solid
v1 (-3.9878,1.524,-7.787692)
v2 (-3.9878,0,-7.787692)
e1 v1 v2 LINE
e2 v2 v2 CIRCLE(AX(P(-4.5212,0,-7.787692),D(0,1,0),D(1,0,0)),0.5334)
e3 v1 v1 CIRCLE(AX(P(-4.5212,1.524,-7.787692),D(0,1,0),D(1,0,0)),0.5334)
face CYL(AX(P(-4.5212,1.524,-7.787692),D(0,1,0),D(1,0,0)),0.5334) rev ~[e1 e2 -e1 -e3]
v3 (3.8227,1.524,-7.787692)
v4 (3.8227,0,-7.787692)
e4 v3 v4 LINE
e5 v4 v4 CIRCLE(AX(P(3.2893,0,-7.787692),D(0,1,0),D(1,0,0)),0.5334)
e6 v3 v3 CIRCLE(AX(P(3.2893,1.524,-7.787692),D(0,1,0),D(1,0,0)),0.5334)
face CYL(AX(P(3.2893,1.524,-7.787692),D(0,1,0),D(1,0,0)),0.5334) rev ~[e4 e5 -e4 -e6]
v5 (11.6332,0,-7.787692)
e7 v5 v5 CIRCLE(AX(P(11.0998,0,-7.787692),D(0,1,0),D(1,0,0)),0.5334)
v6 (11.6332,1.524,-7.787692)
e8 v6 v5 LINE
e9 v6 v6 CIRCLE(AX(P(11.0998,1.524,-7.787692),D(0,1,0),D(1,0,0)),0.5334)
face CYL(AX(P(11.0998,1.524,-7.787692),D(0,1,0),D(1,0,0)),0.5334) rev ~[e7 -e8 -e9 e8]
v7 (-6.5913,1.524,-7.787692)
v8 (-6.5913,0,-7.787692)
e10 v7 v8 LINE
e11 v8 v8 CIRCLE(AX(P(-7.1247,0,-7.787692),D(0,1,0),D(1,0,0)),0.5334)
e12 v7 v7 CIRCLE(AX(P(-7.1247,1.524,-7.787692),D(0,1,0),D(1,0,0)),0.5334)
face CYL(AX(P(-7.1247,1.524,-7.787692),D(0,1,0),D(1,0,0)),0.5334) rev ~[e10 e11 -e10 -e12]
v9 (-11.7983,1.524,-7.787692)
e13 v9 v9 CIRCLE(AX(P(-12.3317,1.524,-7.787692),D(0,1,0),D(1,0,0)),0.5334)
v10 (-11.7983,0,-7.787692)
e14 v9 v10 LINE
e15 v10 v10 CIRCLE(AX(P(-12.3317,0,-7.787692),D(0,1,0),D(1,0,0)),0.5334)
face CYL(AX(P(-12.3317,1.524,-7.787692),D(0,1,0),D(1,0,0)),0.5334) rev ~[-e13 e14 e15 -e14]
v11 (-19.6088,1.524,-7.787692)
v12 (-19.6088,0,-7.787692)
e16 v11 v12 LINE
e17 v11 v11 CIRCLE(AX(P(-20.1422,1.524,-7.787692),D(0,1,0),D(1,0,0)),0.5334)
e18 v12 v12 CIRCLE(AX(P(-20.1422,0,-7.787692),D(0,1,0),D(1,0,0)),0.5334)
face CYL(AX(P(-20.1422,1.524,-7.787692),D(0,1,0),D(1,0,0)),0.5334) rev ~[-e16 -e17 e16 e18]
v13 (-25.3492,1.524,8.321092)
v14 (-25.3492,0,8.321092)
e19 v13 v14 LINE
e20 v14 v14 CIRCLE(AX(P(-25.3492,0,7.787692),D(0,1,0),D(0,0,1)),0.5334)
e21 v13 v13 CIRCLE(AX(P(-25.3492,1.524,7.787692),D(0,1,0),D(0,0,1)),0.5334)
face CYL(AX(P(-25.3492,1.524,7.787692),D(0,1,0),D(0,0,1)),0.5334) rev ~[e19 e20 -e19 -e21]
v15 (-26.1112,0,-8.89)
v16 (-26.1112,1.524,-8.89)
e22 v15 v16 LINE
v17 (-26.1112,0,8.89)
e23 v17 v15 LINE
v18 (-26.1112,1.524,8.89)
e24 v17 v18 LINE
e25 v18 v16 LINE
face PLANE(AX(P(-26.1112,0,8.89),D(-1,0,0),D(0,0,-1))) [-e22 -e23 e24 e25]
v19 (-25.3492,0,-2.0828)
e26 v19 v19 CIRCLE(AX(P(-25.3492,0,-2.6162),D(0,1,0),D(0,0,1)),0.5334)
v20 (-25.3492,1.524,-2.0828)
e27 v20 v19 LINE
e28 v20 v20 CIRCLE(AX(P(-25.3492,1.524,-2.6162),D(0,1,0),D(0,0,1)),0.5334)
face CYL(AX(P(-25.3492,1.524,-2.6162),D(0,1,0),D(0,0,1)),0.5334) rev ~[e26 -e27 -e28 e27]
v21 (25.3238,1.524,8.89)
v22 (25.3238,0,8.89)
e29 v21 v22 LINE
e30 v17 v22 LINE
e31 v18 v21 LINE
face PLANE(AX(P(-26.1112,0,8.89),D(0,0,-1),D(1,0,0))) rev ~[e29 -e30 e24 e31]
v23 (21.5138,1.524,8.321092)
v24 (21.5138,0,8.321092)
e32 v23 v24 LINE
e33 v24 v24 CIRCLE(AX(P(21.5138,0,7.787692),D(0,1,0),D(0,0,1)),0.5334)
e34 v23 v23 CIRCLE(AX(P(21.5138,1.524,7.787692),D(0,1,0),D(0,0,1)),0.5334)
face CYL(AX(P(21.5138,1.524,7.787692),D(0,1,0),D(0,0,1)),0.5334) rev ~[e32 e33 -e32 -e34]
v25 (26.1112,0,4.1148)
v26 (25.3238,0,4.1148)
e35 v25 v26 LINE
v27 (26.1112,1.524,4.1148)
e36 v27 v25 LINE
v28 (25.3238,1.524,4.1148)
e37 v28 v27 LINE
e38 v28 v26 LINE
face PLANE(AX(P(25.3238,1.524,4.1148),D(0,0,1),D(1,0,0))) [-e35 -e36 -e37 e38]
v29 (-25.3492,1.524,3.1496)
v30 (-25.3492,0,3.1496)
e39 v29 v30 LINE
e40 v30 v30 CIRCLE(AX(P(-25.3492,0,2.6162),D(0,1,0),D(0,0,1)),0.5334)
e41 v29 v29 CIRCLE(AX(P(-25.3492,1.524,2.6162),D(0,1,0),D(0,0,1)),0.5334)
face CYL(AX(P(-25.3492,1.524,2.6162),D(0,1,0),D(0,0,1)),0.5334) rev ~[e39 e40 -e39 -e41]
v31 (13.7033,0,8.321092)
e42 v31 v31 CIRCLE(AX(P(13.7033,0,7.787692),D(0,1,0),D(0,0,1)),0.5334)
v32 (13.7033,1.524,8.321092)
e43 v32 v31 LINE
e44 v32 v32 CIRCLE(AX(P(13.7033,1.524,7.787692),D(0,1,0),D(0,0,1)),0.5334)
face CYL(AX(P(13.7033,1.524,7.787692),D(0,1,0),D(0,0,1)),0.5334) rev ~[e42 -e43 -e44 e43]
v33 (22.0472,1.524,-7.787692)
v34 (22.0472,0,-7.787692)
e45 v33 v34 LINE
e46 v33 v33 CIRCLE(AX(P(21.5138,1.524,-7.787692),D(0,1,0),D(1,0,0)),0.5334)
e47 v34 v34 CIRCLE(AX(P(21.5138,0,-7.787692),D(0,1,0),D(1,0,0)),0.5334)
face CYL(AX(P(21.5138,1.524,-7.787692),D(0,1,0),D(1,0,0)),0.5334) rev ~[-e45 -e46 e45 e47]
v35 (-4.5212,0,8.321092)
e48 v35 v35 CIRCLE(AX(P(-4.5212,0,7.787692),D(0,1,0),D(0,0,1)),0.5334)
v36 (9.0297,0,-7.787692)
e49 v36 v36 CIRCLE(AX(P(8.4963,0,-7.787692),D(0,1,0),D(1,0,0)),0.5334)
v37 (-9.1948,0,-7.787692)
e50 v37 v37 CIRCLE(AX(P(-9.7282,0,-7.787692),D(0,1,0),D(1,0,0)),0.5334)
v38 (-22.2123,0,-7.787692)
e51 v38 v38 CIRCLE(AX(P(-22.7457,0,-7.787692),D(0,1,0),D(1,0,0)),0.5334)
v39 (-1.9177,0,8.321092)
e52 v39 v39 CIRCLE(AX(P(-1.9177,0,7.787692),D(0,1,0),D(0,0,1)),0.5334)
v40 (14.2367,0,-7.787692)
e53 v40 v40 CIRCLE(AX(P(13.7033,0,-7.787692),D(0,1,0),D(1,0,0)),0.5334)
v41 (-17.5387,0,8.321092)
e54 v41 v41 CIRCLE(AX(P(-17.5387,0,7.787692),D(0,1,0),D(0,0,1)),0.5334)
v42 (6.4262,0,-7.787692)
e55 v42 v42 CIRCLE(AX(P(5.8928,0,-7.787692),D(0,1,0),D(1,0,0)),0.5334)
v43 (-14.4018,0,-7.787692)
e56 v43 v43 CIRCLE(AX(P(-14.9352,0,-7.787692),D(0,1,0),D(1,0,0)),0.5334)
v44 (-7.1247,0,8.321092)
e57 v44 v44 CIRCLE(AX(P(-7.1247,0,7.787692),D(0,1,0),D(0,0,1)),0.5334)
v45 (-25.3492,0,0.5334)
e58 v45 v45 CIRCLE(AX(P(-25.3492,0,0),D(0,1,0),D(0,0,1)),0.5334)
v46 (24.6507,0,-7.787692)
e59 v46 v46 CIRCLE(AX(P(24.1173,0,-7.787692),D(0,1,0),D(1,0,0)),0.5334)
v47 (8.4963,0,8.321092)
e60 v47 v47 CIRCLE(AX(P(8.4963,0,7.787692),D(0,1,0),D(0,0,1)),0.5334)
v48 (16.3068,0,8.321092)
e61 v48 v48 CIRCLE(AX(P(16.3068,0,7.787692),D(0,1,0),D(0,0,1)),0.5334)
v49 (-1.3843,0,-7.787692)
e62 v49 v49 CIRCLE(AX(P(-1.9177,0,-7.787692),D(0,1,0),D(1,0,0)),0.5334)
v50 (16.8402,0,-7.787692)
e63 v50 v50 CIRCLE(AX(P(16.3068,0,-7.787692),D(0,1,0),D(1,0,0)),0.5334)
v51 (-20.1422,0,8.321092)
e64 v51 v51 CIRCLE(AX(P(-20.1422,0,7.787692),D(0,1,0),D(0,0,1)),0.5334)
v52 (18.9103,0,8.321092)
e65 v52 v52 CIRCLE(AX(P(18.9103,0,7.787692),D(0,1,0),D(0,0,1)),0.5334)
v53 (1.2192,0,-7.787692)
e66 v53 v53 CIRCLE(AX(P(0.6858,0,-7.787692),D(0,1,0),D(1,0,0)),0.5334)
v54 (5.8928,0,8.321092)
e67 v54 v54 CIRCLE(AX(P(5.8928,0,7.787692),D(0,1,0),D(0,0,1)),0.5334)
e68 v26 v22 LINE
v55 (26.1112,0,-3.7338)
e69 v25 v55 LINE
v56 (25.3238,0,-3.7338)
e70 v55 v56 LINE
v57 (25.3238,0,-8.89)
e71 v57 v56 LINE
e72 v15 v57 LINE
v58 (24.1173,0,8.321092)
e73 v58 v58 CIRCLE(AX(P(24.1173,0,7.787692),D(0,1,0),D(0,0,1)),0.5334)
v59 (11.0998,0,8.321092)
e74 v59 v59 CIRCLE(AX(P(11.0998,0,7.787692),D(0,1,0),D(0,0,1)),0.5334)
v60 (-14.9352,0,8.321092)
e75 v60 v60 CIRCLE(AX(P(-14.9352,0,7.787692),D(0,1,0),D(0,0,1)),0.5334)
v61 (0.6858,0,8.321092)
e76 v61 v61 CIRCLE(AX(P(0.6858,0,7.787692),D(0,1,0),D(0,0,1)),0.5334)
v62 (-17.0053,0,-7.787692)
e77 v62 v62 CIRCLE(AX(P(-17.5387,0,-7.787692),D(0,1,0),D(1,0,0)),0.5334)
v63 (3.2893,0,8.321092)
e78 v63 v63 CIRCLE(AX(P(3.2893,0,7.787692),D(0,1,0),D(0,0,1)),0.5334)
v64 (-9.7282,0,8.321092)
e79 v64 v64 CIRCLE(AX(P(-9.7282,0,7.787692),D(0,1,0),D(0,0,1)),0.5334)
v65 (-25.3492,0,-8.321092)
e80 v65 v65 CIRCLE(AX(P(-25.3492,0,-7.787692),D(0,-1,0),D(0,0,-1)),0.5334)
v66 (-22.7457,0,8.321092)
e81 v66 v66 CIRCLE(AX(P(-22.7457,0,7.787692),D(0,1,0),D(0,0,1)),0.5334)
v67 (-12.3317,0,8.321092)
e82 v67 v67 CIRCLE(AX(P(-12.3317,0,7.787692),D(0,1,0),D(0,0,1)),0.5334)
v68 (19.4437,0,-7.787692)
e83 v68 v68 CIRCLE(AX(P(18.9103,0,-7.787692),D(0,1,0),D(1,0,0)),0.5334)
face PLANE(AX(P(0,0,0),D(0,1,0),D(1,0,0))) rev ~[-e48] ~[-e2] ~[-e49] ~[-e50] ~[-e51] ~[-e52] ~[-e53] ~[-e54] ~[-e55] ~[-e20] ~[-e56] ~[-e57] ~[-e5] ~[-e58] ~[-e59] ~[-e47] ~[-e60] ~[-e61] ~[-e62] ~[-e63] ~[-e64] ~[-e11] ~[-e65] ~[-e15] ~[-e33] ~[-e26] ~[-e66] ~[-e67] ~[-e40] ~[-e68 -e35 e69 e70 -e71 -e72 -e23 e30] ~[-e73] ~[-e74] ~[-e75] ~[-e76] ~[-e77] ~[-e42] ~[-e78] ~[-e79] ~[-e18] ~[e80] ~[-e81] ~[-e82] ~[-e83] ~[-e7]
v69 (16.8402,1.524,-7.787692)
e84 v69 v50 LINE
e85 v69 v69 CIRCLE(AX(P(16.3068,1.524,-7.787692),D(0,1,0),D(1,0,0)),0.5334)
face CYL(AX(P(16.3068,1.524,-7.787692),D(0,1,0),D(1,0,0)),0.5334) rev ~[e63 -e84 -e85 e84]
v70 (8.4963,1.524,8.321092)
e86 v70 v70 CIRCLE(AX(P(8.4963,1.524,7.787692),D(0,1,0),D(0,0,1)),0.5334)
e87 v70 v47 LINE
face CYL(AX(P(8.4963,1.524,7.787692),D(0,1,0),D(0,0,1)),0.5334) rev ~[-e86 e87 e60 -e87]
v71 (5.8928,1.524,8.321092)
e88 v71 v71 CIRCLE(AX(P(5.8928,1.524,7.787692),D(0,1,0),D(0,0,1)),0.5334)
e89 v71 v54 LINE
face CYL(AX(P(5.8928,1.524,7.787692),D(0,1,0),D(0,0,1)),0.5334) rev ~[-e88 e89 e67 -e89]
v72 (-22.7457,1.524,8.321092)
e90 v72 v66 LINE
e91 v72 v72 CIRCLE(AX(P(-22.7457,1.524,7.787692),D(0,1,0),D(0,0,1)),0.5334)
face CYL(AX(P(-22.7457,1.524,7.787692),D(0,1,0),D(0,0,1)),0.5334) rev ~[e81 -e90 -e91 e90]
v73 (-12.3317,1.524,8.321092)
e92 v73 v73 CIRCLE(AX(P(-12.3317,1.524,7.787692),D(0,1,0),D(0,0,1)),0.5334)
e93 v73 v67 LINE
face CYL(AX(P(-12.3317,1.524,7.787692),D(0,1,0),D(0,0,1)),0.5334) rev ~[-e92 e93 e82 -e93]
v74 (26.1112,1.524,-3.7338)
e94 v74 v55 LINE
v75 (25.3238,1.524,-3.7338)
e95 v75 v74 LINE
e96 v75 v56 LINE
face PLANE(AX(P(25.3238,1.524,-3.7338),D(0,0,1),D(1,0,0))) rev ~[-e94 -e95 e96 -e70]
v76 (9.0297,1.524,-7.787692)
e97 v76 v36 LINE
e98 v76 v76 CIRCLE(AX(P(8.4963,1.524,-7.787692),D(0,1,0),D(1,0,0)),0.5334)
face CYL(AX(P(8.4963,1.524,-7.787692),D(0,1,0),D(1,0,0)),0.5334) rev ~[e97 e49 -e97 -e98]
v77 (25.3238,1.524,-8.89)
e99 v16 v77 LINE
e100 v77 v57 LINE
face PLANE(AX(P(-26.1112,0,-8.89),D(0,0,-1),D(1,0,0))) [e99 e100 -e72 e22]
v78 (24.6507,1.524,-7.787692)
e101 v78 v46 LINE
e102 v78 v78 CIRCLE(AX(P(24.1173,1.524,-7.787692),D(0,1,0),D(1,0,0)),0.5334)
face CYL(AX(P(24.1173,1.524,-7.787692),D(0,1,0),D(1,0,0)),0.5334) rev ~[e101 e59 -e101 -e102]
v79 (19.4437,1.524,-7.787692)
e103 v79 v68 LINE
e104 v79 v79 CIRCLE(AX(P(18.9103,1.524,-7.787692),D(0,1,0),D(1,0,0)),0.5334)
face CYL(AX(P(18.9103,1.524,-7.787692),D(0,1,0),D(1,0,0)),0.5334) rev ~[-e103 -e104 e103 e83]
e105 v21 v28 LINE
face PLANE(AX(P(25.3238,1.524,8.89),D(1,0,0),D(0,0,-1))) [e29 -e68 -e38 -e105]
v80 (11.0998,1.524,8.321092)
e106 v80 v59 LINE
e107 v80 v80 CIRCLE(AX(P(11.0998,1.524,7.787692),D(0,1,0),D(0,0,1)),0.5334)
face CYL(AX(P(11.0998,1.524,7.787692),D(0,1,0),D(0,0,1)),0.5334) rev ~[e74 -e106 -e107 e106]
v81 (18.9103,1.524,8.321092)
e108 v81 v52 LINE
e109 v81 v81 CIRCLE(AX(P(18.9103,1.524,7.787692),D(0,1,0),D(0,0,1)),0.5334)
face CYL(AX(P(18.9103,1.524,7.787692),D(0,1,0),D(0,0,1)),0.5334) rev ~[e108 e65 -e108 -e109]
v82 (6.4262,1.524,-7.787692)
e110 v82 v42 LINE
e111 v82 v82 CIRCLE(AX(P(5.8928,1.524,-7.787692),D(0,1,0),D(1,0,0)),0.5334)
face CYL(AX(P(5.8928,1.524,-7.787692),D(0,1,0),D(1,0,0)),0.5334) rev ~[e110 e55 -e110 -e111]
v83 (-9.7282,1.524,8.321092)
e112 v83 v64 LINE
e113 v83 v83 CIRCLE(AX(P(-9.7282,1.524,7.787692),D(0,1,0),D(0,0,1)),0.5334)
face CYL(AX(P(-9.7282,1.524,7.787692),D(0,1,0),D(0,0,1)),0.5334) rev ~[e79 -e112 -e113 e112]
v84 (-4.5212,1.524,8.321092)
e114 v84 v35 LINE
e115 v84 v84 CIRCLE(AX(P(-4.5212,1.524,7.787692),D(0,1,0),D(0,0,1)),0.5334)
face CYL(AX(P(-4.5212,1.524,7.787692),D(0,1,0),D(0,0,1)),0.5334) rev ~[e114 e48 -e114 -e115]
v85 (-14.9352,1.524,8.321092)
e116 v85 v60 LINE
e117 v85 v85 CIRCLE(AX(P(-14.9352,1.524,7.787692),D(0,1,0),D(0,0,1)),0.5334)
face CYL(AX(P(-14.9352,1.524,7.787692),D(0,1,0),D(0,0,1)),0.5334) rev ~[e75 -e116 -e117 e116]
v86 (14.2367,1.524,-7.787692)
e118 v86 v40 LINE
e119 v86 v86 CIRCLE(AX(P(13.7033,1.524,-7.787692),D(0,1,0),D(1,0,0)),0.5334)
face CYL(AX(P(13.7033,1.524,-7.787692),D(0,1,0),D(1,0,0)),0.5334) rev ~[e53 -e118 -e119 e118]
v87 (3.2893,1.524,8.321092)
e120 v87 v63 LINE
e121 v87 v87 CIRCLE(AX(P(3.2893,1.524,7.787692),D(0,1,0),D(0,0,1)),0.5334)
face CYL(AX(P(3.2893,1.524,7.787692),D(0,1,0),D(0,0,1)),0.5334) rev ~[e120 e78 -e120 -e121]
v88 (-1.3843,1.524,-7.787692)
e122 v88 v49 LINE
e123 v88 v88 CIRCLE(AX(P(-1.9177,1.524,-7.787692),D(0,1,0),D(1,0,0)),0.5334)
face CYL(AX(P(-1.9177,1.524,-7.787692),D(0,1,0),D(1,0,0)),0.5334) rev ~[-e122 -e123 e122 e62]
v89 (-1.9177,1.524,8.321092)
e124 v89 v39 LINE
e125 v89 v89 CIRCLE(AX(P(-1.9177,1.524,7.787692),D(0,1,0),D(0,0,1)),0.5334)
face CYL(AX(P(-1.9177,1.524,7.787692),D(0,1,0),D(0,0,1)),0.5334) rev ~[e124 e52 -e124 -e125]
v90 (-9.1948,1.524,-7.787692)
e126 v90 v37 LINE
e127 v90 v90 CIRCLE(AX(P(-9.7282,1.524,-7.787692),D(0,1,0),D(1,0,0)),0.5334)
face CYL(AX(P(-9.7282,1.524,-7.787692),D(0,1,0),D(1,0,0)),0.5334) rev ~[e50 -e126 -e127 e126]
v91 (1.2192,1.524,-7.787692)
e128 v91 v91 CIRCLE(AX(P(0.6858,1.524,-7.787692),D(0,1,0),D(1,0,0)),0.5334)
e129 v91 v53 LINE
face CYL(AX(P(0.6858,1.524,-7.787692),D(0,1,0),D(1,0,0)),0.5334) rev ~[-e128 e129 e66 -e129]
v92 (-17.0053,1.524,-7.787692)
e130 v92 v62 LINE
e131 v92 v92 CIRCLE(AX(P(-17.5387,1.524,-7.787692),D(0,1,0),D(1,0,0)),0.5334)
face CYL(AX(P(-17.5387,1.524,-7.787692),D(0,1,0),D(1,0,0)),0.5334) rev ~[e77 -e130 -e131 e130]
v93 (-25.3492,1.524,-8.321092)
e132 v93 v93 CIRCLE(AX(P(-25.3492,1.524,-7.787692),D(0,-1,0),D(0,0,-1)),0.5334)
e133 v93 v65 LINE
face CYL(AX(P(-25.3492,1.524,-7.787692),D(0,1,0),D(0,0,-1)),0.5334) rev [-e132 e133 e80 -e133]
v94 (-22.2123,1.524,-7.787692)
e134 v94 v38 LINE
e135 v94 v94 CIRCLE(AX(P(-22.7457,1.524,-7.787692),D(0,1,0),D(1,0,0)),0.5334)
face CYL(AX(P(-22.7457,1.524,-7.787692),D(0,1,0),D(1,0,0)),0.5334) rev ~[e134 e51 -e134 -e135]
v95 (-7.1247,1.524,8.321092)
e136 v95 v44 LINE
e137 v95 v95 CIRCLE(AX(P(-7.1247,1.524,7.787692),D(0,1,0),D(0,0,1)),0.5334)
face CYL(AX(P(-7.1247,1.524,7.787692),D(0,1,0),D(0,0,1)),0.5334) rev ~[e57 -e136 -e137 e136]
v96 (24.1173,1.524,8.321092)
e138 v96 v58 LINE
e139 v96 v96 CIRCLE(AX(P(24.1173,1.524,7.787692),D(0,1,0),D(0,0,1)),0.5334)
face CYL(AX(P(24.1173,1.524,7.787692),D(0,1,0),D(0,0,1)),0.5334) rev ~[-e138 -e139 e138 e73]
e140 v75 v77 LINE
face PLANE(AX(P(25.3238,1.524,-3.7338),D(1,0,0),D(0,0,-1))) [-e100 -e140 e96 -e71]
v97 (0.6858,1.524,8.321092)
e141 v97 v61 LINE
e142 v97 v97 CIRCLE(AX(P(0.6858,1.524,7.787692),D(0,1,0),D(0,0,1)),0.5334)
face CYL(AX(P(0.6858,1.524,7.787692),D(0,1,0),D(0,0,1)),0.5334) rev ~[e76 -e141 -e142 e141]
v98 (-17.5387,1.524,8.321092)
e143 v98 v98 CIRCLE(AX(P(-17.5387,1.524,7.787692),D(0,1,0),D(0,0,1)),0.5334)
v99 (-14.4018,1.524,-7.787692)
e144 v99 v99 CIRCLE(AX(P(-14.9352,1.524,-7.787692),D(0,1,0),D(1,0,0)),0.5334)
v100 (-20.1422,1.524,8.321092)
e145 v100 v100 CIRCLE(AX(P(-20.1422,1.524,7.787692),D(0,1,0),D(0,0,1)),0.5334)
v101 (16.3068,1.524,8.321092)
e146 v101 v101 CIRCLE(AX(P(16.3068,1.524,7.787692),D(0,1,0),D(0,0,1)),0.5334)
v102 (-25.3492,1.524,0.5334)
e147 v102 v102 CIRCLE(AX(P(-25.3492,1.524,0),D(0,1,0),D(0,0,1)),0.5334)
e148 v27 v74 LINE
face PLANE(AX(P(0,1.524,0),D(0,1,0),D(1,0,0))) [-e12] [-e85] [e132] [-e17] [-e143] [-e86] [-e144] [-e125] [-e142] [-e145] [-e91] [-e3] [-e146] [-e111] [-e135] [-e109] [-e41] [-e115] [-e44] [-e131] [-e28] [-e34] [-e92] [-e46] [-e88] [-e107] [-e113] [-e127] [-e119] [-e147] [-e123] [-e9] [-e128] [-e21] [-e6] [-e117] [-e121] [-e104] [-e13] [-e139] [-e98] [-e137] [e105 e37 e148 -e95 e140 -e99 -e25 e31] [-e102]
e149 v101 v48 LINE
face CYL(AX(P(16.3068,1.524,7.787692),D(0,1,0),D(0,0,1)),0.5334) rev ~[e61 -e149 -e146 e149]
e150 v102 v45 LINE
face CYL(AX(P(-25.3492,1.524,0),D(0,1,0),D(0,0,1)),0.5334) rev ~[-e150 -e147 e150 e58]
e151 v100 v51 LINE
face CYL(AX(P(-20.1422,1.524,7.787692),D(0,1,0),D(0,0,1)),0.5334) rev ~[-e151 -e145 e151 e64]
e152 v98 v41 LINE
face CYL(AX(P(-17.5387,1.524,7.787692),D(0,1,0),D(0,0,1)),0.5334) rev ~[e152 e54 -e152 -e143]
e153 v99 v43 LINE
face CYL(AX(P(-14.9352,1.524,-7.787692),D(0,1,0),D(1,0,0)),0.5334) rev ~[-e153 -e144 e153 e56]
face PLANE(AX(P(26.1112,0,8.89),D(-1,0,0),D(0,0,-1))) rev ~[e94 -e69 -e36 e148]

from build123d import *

# Parameters (mm, degrees)
SKETCH2_W                = 52.2224
SKETCH2_H                = 17.78
BOSS_EXTRUDE1_DEPTH      = 1.524
CUT_EXTRUDE1_REACH       = 29.625
SKETCH5_R                = 0.5334
LPATTERN1_COUNT          = 20
LPATTERN1_PITCH          = 2.6035
MIRROR1_COPY_1_REACH     = 29.625
MIRROR1_COPY_1_SKETCH_R  = 0.5334
MIRROR1_COPY_2_REACH     = 29.625
MIRROR1_COPY_2_SKETCH_R  = 0.5334
MIRROR1_COPY_3_REACH     = 29.625
MIRROR1_COPY_3_SKETCH_R  = 0.5334
MIRROR1_COPY_4_REACH     = 29.625
MIRROR1_COPY_4_SKETCH_R  = 0.5334
MIRROR1_COPY_5_REACH     = 29.625
MIRROR1_COPY_5_SKETCH_R  = 0.5334
MIRROR1_COPY_6_REACH     = 29.625
MIRROR1_COPY_6_SKETCH_R  = 0.5334
MIRROR1_COPY_7_REACH     = 29.625
MIRROR1_COPY_7_SKETCH_R  = 0.5334
MIRROR1_COPY_8_REACH     = 29.625
MIRROR1_COPY_8_SKETCH_R  = 0.5334
MIRROR1_COPY_9_REACH     = 29.625
MIRROR1_COPY_9_SKETCH_R  = 0.5334
MIRROR1_COPY_10_REACH    = 29.625
MIRROR1_COPY_10_SKETCH_R = 0.5334
MIRROR1_COPY_11_REACH    = 29.625
MIRROR1_COPY_11_SKETCH_R = 0.5334
MIRROR1_COPY_12_REACH    = 29.625
MIRROR1_COPY_12_SKETCH_R = 0.5334
MIRROR1_COPY_13_REACH    = 29.625
MIRROR1_COPY_13_SKETCH_R = 0.5334
MIRROR1_COPY_14_REACH    = 29.625
MIRROR1_COPY_14_SKETCH_R = 0.5334
MIRROR1_COPY_15_REACH    = 29.625
MIRROR1_COPY_15_SKETCH_R = 0.5334
MIRROR1_COPY_16_REACH    = 29.625
MIRROR1_COPY_16_SKETCH_R = 0.5334
MIRROR1_COPY_17_REACH    = 29.625
MIRROR1_COPY_17_SKETCH_R = 0.5334
MIRROR1_COPY_18_REACH    = 29.625
MIRROR1_COPY_18_SKETCH_R = 0.5334
MIRROR1_COPY_19_REACH    = 29.625
MIRROR1_COPY_19_SKETCH_R = 0.5334
CUT_EXTRUDE2_REACH       = 29.625
SKETCH6_W                = 0.7874
SKETCH6_H                = 4.7752
SKETCH6_H_2              = 5.1562
CUT_EXTRUDE3_REACH       = 29.625
SKETCH7_R                = 0.5334


with BuildPart() as part:
    # Sketch2 → Boss-Extrude1 (new body)
    with BuildSketch(Plane(origin=(0, 0, 0), x_dir=(1, 0, 0), z_dir=(0, 1, 0))):
        Rectangle(SKETCH2_W, SKETCH2_H)
    extrude(amount=BOSS_EXTRUDE1_DEPTH)

    # Sketch5 → Cut-Extrude1 (cut, up to next)
    with BuildSketch(Plane(origin=(0, 1.524, 0), x_dir=(1, 0, 0), z_dir=(0, 1, 0)), mode=Mode.PRIVATE) as cut_extrude1_sk1:
        with Locations(Location((-25.3492, -7.787691989, 0), (0, 0, 270))):
            Circle(SKETCH5_R)
    cut_extrude1_tool1 = extrude(cut_extrude1_sk1.sketch, amount=-CUT_EXTRUDE1_REACH, mode=Mode.PRIVATE) & part.part
    cut_extrude1 = cut_extrude1_tool1.solids().sort_by_distance((-25.3492, 1.524, 7.787692))[0]
    add(cut_extrude1, mode=Mode.SUBTRACT)

    # LPattern1: Cut-Extrude1 ×20
    with Locations(*[(i * LPATTERN1_PITCH, 0, 0) for i in range(1, LPATTERN1_COUNT)]):
        add(cut_extrude1, mode=Mode.SUBTRACT)

    # Mirror1: Cut-Extrude1 across plane
    add(cut_extrude1.mirror(Plane.XY), mode=Mode.SUBTRACT)

    # Mirror1 copy 1 sketch → Mirror1 copy 1 (cut, up to next)
    with BuildSketch(Plane(origin=(2.6035, 1.524, 0), x_dir=(1, 0, 0), z_dir=(0, 1, 0)), mode=Mode.PRIVATE) as mirror1_copy_1_sk1:
        with Locations((-25.3492, 7.787691989)):
            Circle(MIRROR1_COPY_1_SKETCH_R)
    mirror1_copy_1_tool1 = extrude(mirror1_copy_1_sk1.sketch, amount=-MIRROR1_COPY_1_REACH, mode=Mode.PRIVATE) & part.part
    add(mirror1_copy_1_tool1.solids().sort_by_distance((-22.7457, 1.524, -7.787692))[0], mode=Mode.SUBTRACT)

    # Mirror1 copy 2 sketch → Mirror1 copy 2 (cut, up to next)
    with BuildSketch(Plane(origin=(5.207, 1.524, 0), x_dir=(1, 0, 0), z_dir=(0, 1, 0)), mode=Mode.PRIVATE) as mirror1_copy_2_sk1:
        with Locations((-25.3492, 7.787691989)):
            Circle(MIRROR1_COPY_2_SKETCH_R)
    mirror1_copy_2_tool1 = extrude(mirror1_copy_2_sk1.sketch, amount=-MIRROR1_COPY_2_REACH, mode=Mode.PRIVATE) & part.part
    add(mirror1_copy_2_tool1.solids().sort_by_distance((-20.1422, 1.524, -7.787692))[0], mode=Mode.SUBTRACT)

    # Mirror1 copy 3 sketch → Mirror1 copy 3 (cut, up to next)
    with BuildSketch(Plane(origin=(7.8105, 1.524, 0), x_dir=(1, 0, 0), z_dir=(0, 1, 0)), mode=Mode.PRIVATE) as mirror1_copy_3_sk1:
        with Locations((-25.3492, 7.787691989)):
            Circle(MIRROR1_COPY_3_SKETCH_R)
    mirror1_copy_3_tool1 = extrude(mirror1_copy_3_sk1.sketch, amount=-MIRROR1_COPY_3_REACH, mode=Mode.PRIVATE) & part.part
    add(mirror1_copy_3_tool1.solids().sort_by_distance((-17.5387, 1.524, -7.787692))[0], mode=Mode.SUBTRACT)

    # Mirror1 copy 4 sketch → Mirror1 copy 4 (cut, up to next)
    with BuildSketch(Plane(origin=(10.414, 1.524, 0), x_dir=(1, 0, 0), z_dir=(0, 1, 0)), mode=Mode.PRIVATE) as mirror1_copy_4_sk1:
        with Locations((-25.3492, 7.787691989)):
            Circle(MIRROR1_COPY_4_SKETCH_R)
    mirror1_copy_4_tool1 = extrude(mirror1_copy_4_sk1.sketch, amount=-MIRROR1_COPY_4_REACH, mode=Mode.PRIVATE) & part.part
    add(mirror1_copy_4_tool1.solids().sort_by_distance((-14.9352, 1.524, -7.787692))[0], mode=Mode.SUBTRACT)

    # Mirror1 copy 5 sketch → Mirror1 copy 5 (cut, up to next)
    with BuildSketch(Plane(origin=(13.0175, 1.524, 0), x_dir=(1, 0, 0), z_dir=(0, 1, 0)), mode=Mode.PRIVATE) as mirror1_copy_5_sk1:
        with Locations((-25.3492, 7.787691989)):
            Circle(MIRROR1_COPY_5_SKETCH_R)
    mirror1_copy_5_tool1 = extrude(mirror1_copy_5_sk1.sketch, amount=-MIRROR1_COPY_5_REACH, mode=Mode.PRIVATE) & part.part
    add(mirror1_copy_5_tool1.solids().sort_by_distance((-12.3317, 1.524, -7.787692))[0], mode=Mode.SUBTRACT)

    # Mirror1 copy 6 sketch → Mirror1 copy 6 (cut, up to next)
    with BuildSketch(Plane(origin=(15.621, 1.524, 0), x_dir=(1, 0, 0), z_dir=(0, 1, 0)), mode=Mode.PRIVATE) as mirror1_copy_6_sk1:
        with Locations((-25.3492, 7.787691989)):
            Circle(MIRROR1_COPY_6_SKETCH_R)
    mirror1_copy_6_tool1 = extrude(mirror1_copy_6_sk1.sketch, amount=-MIRROR1_COPY_6_REACH, mode=Mode.PRIVATE) & part.part
    add(mirror1_copy_6_tool1.solids().sort_by_distance((-9.7282, 1.524, -7.787692))[0], mode=Mode.SUBTRACT)

    # Mirror1 copy 7 sketch → Mirror1 copy 7 (cut, up to next)
    with BuildSketch(Plane(origin=(18.2245, 1.524, 0), x_dir=(1, 0, 0), z_dir=(0, 1, 0)), mode=Mode.PRIVATE) as mirror1_copy_7_sk1:
        with Locations((-25.3492, 7.787691989)):
            Circle(MIRROR1_COPY_7_SKETCH_R)
    mirror1_copy_7_tool1 = extrude(mirror1_copy_7_sk1.sketch, amount=-MIRROR1_COPY_7_REACH, mode=Mode.PRIVATE) & part.part
    add(mirror1_copy_7_tool1.solids().sort_by_distance((-7.1247, 1.524, -7.787692))[0], mode=Mode.SUBTRACT)

    # Mirror1 copy 8 sketch → Mirror1 copy 8 (cut, up to next)
    with BuildSketch(Plane(origin=(20.828, 1.524, 0), x_dir=(1, 0, 0), z_dir=(0, 1, 0)), mode=Mode.PRIVATE) as mirror1_copy_8_sk1:
        with Locations((-25.3492, 7.787691989)):
            Circle(MIRROR1_COPY_8_SKETCH_R)
    mirror1_copy_8_tool1 = extrude(mirror1_copy_8_sk1.sketch, amount=-MIRROR1_COPY_8_REACH, mode=Mode.PRIVATE) & part.part
    add(mirror1_copy_8_tool1.solids().sort_by_distance((-4.5212, 1.524, -7.787692))[0], mode=Mode.SUBTRACT)

    # Mirror1 copy 9 sketch → Mirror1 copy 9 (cut, up to next)
    with BuildSketch(Plane(origin=(23.4315, 1.524, 0), x_dir=(1, 0, 0), z_dir=(0, 1, 0)), mode=Mode.PRIVATE) as mirror1_copy_9_sk1:
        with Locations((-25.3492, 7.787691989)):
            Circle(MIRROR1_COPY_9_SKETCH_R)
    mirror1_copy_9_tool1 = extrude(mirror1_copy_9_sk1.sketch, amount=-MIRROR1_COPY_9_REACH, mode=Mode.PRIVATE) & part.part
    add(mirror1_copy_9_tool1.solids().sort_by_distance((-1.9177, 1.524, -7.787692))[0], mode=Mode.SUBTRACT)

    # Mirror1 copy 10 sketch → Mirror1 copy 10 (cut, up to next)
    with BuildSketch(Plane(origin=(26.035, 1.524, 0), x_dir=(1, 0, 0), z_dir=(0, 1, 0)), mode=Mode.PRIVATE) as mirror1_copy_10_sk1:
        with Locations((-25.3492, 7.787691989)):
            Circle(MIRROR1_COPY_10_SKETCH_R)
    mirror1_copy_10_tool1 = extrude(mirror1_copy_10_sk1.sketch, amount=-MIRROR1_COPY_10_REACH, mode=Mode.PRIVATE) & part.part
    add(mirror1_copy_10_tool1.solids().sort_by_distance((0.6858, 1.524, -7.787692))[0], mode=Mode.SUBTRACT)

    # Mirror1 copy 11 sketch → Mirror1 copy 11 (cut, up to next)
    with BuildSketch(Plane(origin=(28.6385, 1.524, 0), x_dir=(1, 0, 0), z_dir=(0, 1, 0)), mode=Mode.PRIVATE) as mirror1_copy_11_sk1:
        with Locations((-25.3492, 7.787691989)):
            Circle(MIRROR1_COPY_11_SKETCH_R)
    mirror1_copy_11_tool1 = extrude(mirror1_copy_11_sk1.sketch, amount=-MIRROR1_COPY_11_REACH, mode=Mode.PRIVATE) & part.part
    add(mirror1_copy_11_tool1.solids().sort_by_distance((3.2893, 1.524, -7.787692))[0], mode=Mode.SUBTRACT)

    # Mirror1 copy 12 sketch → Mirror1 copy 12 (cut, up to next)
    with BuildSketch(Plane(origin=(31.242, 1.524, 0), x_dir=(1, 0, 0), z_dir=(0, 1, 0)), mode=Mode.PRIVATE) as mirror1_copy_12_sk1:
        with Locations((-25.3492, 7.787691989)):
            Circle(MIRROR1_COPY_12_SKETCH_R)
    mirror1_copy_12_tool1 = extrude(mirror1_copy_12_sk1.sketch, amount=-MIRROR1_COPY_12_REACH, mode=Mode.PRIVATE) & part.part
    add(mirror1_copy_12_tool1.solids().sort_by_distance((5.8928, 1.524, -7.787692))[0], mode=Mode.SUBTRACT)

    # Mirror1 copy 13 sketch → Mirror1 copy 13 (cut, up to next)
    with BuildSketch(Plane(origin=(33.8455, 1.524, 0), x_dir=(1, 0, 0), z_dir=(0, 1, 0)), mode=Mode.PRIVATE) as mirror1_copy_13_sk1:
        with Locations((-25.3492, 7.787691989)):
            Circle(MIRROR1_COPY_13_SKETCH_R)
    mirror1_copy_13_tool1 = extrude(mirror1_copy_13_sk1.sketch, amount=-MIRROR1_COPY_13_REACH, mode=Mode.PRIVATE) & part.part
    add(mirror1_copy_13_tool1.solids().sort_by_distance((8.4963, 1.524, -7.787692))[0], mode=Mode.SUBTRACT)

    # Mirror1 copy 14 sketch → Mirror1 copy 14 (cut, up to next)
    with BuildSketch(Plane(origin=(36.449, 1.524, 0), x_dir=(1, 0, 0), z_dir=(0, 1, 0)), mode=Mode.PRIVATE) as mirror1_copy_14_sk1:
        with Locations((-25.3492, 7.787691989)):
            Circle(MIRROR1_COPY_14_SKETCH_R)
    mirror1_copy_14_tool1 = extrude(mirror1_copy_14_sk1.sketch, amount=-MIRROR1_COPY_14_REACH, mode=Mode.PRIVATE) & part.part
    add(mirror1_copy_14_tool1.solids().sort_by_distance((11.0998, 1.524, -7.787692))[0], mode=Mode.SUBTRACT)

    # Mirror1 copy 15 sketch → Mirror1 copy 15 (cut, up to next)
    with BuildSketch(Plane(origin=(39.0525, 1.524, 0), x_dir=(1, 0, 0), z_dir=(0, 1, 0)), mode=Mode.PRIVATE) as mirror1_copy_15_sk1:
        with Locations((-25.3492, 7.787691989)):
            Circle(MIRROR1_COPY_15_SKETCH_R)
    mirror1_copy_15_tool1 = extrude(mirror1_copy_15_sk1.sketch, amount=-MIRROR1_COPY_15_REACH, mode=Mode.PRIVATE) & part.part
    add(mirror1_copy_15_tool1.solids().sort_by_distance((13.7033, 1.524, -7.787692))[0], mode=Mode.SUBTRACT)

    # Mirror1 copy 16 sketch → Mirror1 copy 16 (cut, up to next)
    with BuildSketch(Plane(origin=(41.656, 1.524, 0), x_dir=(1, 0, 0), z_dir=(0, 1, 0)), mode=Mode.PRIVATE) as mirror1_copy_16_sk1:
        with Locations((-25.3492, 7.787691989)):
            Circle(MIRROR1_COPY_16_SKETCH_R)
    mirror1_copy_16_tool1 = extrude(mirror1_copy_16_sk1.sketch, amount=-MIRROR1_COPY_16_REACH, mode=Mode.PRIVATE) & part.part
    add(mirror1_copy_16_tool1.solids().sort_by_distance((16.3068, 1.524, -7.787692))[0], mode=Mode.SUBTRACT)

    # Mirror1 copy 17 sketch → Mirror1 copy 17 (cut, up to next)
    with BuildSketch(Plane(origin=(44.2595, 1.524, 0), x_dir=(1, 0, 0), z_dir=(0, 1, 0)), mode=Mode.PRIVATE) as mirror1_copy_17_sk1:
        with Locations((-25.3492, 7.787691989)):
            Circle(MIRROR1_COPY_17_SKETCH_R)
    mirror1_copy_17_tool1 = extrude(mirror1_copy_17_sk1.sketch, amount=-MIRROR1_COPY_17_REACH, mode=Mode.PRIVATE) & part.part
    add(mirror1_copy_17_tool1.solids().sort_by_distance((18.9103, 1.524, -7.787692))[0], mode=Mode.SUBTRACT)

    # Mirror1 copy 18 sketch → Mirror1 copy 18 (cut, up to next)
    with BuildSketch(Plane(origin=(46.863, 1.524, 0), x_dir=(1, 0, 0), z_dir=(0, 1, 0)), mode=Mode.PRIVATE) as mirror1_copy_18_sk1:
        with Locations((-25.3492, 7.787691989)):
            Circle(MIRROR1_COPY_18_SKETCH_R)
    mirror1_copy_18_tool1 = extrude(mirror1_copy_18_sk1.sketch, amount=-MIRROR1_COPY_18_REACH, mode=Mode.PRIVATE) & part.part
    add(mirror1_copy_18_tool1.solids().sort_by_distance((21.5138, 1.524, -7.787692))[0], mode=Mode.SUBTRACT)

    # Mirror1 copy 19 sketch → Mirror1 copy 19 (cut, up to next)
    with BuildSketch(Plane(origin=(49.4665, 1.524, 0), x_dir=(1, 0, 0), z_dir=(0, 1, 0)), mode=Mode.PRIVATE) as mirror1_copy_19_sk1:
        with Locations((-25.3492, 7.787691989)):
            Circle(MIRROR1_COPY_19_SKETCH_R)
    mirror1_copy_19_tool1 = extrude(mirror1_copy_19_sk1.sketch, amount=-MIRROR1_COPY_19_REACH, mode=Mode.PRIVATE) & part.part
    add(mirror1_copy_19_tool1.solids().sort_by_distance((24.1173, 1.524, -7.787692))[0], mode=Mode.SUBTRACT)

    # Sketch6 → Cut-Extrude2 (cut, up to next)
    with BuildSketch(Plane(origin=(0, 1.524, 0), x_dir=(1, 0, 0), z_dir=(0, 1, 0)), mode=Mode.PRIVATE) as cut_extrude2_sk1:
        with Locations((25.7175, -6.5024)):
            Rectangle(SKETCH6_W, SKETCH6_H)
    cut_extrude2_tool1 = extrude(cut_extrude2_sk1.sketch, amount=-CUT_EXTRUDE2_REACH, mode=Mode.PRIVATE) & part.part
    # Sketch6 → Cut-Extrude2 (cut, up to next)
    with BuildSketch(Plane(origin=(0, 1.524, 0), x_dir=(1, 0, 0), z_dir=(0, 1, 0)), mode=Mode.PRIVATE) as cut_extrude2_sk2:
        with Locations((25.7175, 6.3119)):
            Rectangle(SKETCH6_W, SKETCH6_H_2)
    cut_extrude2_tool2 = extrude(cut_extrude2_sk2.sketch, amount=-CUT_EXTRUDE2_REACH, mode=Mode.PRIVATE) & part.part
    add(cut_extrude2_tool1.solids().sort_by_distance((25.7175, 1.524, 6.5024))[0], mode=Mode.SUBTRACT)
    add(cut_extrude2_tool2.solids().sort_by_distance((25.7175, 1.524, -6.3119))[0], mode=Mode.SUBTRACT)

    # Sketch7 → Cut-Extrude3 (cut, up to next)
    with BuildSketch(Plane(origin=(0, 1.524, 0), x_dir=(1, 0, 0), z_dir=(0, 1, 0)), mode=Mode.PRIVATE) as cut_extrude3_sk1:
        with Locations(Location((-25.3492, 0, 0), (0, 0, 270))):
            Circle(SKETCH7_R)
    cut_extrude3_tool1 = extrude(cut_extrude3_sk1.sketch, amount=-CUT_EXTRUDE3_REACH, mode=Mode.PRIVATE) & part.part
    # Sketch7 → Cut-Extrude3 (cut, up to next)
    with BuildSketch(Plane(origin=(0, 1.524, 0), x_dir=(1, 0, 0), z_dir=(0, 1, 0)), mode=Mode.PRIVATE) as cut_extrude3_sk2:
        with Locations(Location((-25.3492, 2.6162, 0), (0, 0, 270))):
            Circle(SKETCH7_R)
    cut_extrude3_tool2 = extrude(cut_extrude3_sk2.sketch, amount=-CUT_EXTRUDE3_REACH, mode=Mode.PRIVATE) & part.part
    # Sketch7 → Cut-Extrude3 (cut, up to next)
    with BuildSketch(Plane(origin=(0, 1.524, 0), x_dir=(1, 0, 0), z_dir=(0, 1, 0)), mode=Mode.PRIVATE) as cut_extrude3_sk3:
        with Locations(Location((-25.3492, -2.6162, 0), (0, 0, 270))):
            Circle(SKETCH7_R)
    cut_extrude3_tool3 = extrude(cut_extrude3_sk3.sketch, amount=-CUT_EXTRUDE3_REACH, mode=Mode.PRIVATE) & part.part
    add(cut_extrude3_tool1.solids().sort_by_distance((-25.3492, 1.524, 0))[0], mode=Mode.SUBTRACT)
    add(cut_extrude3_tool2.solids().sort_by_distance((-25.3492, 1.524, -2.6162))[0], mode=Mode.SUBTRACT)
    add(cut_extrude3_tool3.solids().sort_by_distance((-25.3492, 1.524, 2.6162))[0], mode=Mode.SUBTRACT)


solid = part.part
